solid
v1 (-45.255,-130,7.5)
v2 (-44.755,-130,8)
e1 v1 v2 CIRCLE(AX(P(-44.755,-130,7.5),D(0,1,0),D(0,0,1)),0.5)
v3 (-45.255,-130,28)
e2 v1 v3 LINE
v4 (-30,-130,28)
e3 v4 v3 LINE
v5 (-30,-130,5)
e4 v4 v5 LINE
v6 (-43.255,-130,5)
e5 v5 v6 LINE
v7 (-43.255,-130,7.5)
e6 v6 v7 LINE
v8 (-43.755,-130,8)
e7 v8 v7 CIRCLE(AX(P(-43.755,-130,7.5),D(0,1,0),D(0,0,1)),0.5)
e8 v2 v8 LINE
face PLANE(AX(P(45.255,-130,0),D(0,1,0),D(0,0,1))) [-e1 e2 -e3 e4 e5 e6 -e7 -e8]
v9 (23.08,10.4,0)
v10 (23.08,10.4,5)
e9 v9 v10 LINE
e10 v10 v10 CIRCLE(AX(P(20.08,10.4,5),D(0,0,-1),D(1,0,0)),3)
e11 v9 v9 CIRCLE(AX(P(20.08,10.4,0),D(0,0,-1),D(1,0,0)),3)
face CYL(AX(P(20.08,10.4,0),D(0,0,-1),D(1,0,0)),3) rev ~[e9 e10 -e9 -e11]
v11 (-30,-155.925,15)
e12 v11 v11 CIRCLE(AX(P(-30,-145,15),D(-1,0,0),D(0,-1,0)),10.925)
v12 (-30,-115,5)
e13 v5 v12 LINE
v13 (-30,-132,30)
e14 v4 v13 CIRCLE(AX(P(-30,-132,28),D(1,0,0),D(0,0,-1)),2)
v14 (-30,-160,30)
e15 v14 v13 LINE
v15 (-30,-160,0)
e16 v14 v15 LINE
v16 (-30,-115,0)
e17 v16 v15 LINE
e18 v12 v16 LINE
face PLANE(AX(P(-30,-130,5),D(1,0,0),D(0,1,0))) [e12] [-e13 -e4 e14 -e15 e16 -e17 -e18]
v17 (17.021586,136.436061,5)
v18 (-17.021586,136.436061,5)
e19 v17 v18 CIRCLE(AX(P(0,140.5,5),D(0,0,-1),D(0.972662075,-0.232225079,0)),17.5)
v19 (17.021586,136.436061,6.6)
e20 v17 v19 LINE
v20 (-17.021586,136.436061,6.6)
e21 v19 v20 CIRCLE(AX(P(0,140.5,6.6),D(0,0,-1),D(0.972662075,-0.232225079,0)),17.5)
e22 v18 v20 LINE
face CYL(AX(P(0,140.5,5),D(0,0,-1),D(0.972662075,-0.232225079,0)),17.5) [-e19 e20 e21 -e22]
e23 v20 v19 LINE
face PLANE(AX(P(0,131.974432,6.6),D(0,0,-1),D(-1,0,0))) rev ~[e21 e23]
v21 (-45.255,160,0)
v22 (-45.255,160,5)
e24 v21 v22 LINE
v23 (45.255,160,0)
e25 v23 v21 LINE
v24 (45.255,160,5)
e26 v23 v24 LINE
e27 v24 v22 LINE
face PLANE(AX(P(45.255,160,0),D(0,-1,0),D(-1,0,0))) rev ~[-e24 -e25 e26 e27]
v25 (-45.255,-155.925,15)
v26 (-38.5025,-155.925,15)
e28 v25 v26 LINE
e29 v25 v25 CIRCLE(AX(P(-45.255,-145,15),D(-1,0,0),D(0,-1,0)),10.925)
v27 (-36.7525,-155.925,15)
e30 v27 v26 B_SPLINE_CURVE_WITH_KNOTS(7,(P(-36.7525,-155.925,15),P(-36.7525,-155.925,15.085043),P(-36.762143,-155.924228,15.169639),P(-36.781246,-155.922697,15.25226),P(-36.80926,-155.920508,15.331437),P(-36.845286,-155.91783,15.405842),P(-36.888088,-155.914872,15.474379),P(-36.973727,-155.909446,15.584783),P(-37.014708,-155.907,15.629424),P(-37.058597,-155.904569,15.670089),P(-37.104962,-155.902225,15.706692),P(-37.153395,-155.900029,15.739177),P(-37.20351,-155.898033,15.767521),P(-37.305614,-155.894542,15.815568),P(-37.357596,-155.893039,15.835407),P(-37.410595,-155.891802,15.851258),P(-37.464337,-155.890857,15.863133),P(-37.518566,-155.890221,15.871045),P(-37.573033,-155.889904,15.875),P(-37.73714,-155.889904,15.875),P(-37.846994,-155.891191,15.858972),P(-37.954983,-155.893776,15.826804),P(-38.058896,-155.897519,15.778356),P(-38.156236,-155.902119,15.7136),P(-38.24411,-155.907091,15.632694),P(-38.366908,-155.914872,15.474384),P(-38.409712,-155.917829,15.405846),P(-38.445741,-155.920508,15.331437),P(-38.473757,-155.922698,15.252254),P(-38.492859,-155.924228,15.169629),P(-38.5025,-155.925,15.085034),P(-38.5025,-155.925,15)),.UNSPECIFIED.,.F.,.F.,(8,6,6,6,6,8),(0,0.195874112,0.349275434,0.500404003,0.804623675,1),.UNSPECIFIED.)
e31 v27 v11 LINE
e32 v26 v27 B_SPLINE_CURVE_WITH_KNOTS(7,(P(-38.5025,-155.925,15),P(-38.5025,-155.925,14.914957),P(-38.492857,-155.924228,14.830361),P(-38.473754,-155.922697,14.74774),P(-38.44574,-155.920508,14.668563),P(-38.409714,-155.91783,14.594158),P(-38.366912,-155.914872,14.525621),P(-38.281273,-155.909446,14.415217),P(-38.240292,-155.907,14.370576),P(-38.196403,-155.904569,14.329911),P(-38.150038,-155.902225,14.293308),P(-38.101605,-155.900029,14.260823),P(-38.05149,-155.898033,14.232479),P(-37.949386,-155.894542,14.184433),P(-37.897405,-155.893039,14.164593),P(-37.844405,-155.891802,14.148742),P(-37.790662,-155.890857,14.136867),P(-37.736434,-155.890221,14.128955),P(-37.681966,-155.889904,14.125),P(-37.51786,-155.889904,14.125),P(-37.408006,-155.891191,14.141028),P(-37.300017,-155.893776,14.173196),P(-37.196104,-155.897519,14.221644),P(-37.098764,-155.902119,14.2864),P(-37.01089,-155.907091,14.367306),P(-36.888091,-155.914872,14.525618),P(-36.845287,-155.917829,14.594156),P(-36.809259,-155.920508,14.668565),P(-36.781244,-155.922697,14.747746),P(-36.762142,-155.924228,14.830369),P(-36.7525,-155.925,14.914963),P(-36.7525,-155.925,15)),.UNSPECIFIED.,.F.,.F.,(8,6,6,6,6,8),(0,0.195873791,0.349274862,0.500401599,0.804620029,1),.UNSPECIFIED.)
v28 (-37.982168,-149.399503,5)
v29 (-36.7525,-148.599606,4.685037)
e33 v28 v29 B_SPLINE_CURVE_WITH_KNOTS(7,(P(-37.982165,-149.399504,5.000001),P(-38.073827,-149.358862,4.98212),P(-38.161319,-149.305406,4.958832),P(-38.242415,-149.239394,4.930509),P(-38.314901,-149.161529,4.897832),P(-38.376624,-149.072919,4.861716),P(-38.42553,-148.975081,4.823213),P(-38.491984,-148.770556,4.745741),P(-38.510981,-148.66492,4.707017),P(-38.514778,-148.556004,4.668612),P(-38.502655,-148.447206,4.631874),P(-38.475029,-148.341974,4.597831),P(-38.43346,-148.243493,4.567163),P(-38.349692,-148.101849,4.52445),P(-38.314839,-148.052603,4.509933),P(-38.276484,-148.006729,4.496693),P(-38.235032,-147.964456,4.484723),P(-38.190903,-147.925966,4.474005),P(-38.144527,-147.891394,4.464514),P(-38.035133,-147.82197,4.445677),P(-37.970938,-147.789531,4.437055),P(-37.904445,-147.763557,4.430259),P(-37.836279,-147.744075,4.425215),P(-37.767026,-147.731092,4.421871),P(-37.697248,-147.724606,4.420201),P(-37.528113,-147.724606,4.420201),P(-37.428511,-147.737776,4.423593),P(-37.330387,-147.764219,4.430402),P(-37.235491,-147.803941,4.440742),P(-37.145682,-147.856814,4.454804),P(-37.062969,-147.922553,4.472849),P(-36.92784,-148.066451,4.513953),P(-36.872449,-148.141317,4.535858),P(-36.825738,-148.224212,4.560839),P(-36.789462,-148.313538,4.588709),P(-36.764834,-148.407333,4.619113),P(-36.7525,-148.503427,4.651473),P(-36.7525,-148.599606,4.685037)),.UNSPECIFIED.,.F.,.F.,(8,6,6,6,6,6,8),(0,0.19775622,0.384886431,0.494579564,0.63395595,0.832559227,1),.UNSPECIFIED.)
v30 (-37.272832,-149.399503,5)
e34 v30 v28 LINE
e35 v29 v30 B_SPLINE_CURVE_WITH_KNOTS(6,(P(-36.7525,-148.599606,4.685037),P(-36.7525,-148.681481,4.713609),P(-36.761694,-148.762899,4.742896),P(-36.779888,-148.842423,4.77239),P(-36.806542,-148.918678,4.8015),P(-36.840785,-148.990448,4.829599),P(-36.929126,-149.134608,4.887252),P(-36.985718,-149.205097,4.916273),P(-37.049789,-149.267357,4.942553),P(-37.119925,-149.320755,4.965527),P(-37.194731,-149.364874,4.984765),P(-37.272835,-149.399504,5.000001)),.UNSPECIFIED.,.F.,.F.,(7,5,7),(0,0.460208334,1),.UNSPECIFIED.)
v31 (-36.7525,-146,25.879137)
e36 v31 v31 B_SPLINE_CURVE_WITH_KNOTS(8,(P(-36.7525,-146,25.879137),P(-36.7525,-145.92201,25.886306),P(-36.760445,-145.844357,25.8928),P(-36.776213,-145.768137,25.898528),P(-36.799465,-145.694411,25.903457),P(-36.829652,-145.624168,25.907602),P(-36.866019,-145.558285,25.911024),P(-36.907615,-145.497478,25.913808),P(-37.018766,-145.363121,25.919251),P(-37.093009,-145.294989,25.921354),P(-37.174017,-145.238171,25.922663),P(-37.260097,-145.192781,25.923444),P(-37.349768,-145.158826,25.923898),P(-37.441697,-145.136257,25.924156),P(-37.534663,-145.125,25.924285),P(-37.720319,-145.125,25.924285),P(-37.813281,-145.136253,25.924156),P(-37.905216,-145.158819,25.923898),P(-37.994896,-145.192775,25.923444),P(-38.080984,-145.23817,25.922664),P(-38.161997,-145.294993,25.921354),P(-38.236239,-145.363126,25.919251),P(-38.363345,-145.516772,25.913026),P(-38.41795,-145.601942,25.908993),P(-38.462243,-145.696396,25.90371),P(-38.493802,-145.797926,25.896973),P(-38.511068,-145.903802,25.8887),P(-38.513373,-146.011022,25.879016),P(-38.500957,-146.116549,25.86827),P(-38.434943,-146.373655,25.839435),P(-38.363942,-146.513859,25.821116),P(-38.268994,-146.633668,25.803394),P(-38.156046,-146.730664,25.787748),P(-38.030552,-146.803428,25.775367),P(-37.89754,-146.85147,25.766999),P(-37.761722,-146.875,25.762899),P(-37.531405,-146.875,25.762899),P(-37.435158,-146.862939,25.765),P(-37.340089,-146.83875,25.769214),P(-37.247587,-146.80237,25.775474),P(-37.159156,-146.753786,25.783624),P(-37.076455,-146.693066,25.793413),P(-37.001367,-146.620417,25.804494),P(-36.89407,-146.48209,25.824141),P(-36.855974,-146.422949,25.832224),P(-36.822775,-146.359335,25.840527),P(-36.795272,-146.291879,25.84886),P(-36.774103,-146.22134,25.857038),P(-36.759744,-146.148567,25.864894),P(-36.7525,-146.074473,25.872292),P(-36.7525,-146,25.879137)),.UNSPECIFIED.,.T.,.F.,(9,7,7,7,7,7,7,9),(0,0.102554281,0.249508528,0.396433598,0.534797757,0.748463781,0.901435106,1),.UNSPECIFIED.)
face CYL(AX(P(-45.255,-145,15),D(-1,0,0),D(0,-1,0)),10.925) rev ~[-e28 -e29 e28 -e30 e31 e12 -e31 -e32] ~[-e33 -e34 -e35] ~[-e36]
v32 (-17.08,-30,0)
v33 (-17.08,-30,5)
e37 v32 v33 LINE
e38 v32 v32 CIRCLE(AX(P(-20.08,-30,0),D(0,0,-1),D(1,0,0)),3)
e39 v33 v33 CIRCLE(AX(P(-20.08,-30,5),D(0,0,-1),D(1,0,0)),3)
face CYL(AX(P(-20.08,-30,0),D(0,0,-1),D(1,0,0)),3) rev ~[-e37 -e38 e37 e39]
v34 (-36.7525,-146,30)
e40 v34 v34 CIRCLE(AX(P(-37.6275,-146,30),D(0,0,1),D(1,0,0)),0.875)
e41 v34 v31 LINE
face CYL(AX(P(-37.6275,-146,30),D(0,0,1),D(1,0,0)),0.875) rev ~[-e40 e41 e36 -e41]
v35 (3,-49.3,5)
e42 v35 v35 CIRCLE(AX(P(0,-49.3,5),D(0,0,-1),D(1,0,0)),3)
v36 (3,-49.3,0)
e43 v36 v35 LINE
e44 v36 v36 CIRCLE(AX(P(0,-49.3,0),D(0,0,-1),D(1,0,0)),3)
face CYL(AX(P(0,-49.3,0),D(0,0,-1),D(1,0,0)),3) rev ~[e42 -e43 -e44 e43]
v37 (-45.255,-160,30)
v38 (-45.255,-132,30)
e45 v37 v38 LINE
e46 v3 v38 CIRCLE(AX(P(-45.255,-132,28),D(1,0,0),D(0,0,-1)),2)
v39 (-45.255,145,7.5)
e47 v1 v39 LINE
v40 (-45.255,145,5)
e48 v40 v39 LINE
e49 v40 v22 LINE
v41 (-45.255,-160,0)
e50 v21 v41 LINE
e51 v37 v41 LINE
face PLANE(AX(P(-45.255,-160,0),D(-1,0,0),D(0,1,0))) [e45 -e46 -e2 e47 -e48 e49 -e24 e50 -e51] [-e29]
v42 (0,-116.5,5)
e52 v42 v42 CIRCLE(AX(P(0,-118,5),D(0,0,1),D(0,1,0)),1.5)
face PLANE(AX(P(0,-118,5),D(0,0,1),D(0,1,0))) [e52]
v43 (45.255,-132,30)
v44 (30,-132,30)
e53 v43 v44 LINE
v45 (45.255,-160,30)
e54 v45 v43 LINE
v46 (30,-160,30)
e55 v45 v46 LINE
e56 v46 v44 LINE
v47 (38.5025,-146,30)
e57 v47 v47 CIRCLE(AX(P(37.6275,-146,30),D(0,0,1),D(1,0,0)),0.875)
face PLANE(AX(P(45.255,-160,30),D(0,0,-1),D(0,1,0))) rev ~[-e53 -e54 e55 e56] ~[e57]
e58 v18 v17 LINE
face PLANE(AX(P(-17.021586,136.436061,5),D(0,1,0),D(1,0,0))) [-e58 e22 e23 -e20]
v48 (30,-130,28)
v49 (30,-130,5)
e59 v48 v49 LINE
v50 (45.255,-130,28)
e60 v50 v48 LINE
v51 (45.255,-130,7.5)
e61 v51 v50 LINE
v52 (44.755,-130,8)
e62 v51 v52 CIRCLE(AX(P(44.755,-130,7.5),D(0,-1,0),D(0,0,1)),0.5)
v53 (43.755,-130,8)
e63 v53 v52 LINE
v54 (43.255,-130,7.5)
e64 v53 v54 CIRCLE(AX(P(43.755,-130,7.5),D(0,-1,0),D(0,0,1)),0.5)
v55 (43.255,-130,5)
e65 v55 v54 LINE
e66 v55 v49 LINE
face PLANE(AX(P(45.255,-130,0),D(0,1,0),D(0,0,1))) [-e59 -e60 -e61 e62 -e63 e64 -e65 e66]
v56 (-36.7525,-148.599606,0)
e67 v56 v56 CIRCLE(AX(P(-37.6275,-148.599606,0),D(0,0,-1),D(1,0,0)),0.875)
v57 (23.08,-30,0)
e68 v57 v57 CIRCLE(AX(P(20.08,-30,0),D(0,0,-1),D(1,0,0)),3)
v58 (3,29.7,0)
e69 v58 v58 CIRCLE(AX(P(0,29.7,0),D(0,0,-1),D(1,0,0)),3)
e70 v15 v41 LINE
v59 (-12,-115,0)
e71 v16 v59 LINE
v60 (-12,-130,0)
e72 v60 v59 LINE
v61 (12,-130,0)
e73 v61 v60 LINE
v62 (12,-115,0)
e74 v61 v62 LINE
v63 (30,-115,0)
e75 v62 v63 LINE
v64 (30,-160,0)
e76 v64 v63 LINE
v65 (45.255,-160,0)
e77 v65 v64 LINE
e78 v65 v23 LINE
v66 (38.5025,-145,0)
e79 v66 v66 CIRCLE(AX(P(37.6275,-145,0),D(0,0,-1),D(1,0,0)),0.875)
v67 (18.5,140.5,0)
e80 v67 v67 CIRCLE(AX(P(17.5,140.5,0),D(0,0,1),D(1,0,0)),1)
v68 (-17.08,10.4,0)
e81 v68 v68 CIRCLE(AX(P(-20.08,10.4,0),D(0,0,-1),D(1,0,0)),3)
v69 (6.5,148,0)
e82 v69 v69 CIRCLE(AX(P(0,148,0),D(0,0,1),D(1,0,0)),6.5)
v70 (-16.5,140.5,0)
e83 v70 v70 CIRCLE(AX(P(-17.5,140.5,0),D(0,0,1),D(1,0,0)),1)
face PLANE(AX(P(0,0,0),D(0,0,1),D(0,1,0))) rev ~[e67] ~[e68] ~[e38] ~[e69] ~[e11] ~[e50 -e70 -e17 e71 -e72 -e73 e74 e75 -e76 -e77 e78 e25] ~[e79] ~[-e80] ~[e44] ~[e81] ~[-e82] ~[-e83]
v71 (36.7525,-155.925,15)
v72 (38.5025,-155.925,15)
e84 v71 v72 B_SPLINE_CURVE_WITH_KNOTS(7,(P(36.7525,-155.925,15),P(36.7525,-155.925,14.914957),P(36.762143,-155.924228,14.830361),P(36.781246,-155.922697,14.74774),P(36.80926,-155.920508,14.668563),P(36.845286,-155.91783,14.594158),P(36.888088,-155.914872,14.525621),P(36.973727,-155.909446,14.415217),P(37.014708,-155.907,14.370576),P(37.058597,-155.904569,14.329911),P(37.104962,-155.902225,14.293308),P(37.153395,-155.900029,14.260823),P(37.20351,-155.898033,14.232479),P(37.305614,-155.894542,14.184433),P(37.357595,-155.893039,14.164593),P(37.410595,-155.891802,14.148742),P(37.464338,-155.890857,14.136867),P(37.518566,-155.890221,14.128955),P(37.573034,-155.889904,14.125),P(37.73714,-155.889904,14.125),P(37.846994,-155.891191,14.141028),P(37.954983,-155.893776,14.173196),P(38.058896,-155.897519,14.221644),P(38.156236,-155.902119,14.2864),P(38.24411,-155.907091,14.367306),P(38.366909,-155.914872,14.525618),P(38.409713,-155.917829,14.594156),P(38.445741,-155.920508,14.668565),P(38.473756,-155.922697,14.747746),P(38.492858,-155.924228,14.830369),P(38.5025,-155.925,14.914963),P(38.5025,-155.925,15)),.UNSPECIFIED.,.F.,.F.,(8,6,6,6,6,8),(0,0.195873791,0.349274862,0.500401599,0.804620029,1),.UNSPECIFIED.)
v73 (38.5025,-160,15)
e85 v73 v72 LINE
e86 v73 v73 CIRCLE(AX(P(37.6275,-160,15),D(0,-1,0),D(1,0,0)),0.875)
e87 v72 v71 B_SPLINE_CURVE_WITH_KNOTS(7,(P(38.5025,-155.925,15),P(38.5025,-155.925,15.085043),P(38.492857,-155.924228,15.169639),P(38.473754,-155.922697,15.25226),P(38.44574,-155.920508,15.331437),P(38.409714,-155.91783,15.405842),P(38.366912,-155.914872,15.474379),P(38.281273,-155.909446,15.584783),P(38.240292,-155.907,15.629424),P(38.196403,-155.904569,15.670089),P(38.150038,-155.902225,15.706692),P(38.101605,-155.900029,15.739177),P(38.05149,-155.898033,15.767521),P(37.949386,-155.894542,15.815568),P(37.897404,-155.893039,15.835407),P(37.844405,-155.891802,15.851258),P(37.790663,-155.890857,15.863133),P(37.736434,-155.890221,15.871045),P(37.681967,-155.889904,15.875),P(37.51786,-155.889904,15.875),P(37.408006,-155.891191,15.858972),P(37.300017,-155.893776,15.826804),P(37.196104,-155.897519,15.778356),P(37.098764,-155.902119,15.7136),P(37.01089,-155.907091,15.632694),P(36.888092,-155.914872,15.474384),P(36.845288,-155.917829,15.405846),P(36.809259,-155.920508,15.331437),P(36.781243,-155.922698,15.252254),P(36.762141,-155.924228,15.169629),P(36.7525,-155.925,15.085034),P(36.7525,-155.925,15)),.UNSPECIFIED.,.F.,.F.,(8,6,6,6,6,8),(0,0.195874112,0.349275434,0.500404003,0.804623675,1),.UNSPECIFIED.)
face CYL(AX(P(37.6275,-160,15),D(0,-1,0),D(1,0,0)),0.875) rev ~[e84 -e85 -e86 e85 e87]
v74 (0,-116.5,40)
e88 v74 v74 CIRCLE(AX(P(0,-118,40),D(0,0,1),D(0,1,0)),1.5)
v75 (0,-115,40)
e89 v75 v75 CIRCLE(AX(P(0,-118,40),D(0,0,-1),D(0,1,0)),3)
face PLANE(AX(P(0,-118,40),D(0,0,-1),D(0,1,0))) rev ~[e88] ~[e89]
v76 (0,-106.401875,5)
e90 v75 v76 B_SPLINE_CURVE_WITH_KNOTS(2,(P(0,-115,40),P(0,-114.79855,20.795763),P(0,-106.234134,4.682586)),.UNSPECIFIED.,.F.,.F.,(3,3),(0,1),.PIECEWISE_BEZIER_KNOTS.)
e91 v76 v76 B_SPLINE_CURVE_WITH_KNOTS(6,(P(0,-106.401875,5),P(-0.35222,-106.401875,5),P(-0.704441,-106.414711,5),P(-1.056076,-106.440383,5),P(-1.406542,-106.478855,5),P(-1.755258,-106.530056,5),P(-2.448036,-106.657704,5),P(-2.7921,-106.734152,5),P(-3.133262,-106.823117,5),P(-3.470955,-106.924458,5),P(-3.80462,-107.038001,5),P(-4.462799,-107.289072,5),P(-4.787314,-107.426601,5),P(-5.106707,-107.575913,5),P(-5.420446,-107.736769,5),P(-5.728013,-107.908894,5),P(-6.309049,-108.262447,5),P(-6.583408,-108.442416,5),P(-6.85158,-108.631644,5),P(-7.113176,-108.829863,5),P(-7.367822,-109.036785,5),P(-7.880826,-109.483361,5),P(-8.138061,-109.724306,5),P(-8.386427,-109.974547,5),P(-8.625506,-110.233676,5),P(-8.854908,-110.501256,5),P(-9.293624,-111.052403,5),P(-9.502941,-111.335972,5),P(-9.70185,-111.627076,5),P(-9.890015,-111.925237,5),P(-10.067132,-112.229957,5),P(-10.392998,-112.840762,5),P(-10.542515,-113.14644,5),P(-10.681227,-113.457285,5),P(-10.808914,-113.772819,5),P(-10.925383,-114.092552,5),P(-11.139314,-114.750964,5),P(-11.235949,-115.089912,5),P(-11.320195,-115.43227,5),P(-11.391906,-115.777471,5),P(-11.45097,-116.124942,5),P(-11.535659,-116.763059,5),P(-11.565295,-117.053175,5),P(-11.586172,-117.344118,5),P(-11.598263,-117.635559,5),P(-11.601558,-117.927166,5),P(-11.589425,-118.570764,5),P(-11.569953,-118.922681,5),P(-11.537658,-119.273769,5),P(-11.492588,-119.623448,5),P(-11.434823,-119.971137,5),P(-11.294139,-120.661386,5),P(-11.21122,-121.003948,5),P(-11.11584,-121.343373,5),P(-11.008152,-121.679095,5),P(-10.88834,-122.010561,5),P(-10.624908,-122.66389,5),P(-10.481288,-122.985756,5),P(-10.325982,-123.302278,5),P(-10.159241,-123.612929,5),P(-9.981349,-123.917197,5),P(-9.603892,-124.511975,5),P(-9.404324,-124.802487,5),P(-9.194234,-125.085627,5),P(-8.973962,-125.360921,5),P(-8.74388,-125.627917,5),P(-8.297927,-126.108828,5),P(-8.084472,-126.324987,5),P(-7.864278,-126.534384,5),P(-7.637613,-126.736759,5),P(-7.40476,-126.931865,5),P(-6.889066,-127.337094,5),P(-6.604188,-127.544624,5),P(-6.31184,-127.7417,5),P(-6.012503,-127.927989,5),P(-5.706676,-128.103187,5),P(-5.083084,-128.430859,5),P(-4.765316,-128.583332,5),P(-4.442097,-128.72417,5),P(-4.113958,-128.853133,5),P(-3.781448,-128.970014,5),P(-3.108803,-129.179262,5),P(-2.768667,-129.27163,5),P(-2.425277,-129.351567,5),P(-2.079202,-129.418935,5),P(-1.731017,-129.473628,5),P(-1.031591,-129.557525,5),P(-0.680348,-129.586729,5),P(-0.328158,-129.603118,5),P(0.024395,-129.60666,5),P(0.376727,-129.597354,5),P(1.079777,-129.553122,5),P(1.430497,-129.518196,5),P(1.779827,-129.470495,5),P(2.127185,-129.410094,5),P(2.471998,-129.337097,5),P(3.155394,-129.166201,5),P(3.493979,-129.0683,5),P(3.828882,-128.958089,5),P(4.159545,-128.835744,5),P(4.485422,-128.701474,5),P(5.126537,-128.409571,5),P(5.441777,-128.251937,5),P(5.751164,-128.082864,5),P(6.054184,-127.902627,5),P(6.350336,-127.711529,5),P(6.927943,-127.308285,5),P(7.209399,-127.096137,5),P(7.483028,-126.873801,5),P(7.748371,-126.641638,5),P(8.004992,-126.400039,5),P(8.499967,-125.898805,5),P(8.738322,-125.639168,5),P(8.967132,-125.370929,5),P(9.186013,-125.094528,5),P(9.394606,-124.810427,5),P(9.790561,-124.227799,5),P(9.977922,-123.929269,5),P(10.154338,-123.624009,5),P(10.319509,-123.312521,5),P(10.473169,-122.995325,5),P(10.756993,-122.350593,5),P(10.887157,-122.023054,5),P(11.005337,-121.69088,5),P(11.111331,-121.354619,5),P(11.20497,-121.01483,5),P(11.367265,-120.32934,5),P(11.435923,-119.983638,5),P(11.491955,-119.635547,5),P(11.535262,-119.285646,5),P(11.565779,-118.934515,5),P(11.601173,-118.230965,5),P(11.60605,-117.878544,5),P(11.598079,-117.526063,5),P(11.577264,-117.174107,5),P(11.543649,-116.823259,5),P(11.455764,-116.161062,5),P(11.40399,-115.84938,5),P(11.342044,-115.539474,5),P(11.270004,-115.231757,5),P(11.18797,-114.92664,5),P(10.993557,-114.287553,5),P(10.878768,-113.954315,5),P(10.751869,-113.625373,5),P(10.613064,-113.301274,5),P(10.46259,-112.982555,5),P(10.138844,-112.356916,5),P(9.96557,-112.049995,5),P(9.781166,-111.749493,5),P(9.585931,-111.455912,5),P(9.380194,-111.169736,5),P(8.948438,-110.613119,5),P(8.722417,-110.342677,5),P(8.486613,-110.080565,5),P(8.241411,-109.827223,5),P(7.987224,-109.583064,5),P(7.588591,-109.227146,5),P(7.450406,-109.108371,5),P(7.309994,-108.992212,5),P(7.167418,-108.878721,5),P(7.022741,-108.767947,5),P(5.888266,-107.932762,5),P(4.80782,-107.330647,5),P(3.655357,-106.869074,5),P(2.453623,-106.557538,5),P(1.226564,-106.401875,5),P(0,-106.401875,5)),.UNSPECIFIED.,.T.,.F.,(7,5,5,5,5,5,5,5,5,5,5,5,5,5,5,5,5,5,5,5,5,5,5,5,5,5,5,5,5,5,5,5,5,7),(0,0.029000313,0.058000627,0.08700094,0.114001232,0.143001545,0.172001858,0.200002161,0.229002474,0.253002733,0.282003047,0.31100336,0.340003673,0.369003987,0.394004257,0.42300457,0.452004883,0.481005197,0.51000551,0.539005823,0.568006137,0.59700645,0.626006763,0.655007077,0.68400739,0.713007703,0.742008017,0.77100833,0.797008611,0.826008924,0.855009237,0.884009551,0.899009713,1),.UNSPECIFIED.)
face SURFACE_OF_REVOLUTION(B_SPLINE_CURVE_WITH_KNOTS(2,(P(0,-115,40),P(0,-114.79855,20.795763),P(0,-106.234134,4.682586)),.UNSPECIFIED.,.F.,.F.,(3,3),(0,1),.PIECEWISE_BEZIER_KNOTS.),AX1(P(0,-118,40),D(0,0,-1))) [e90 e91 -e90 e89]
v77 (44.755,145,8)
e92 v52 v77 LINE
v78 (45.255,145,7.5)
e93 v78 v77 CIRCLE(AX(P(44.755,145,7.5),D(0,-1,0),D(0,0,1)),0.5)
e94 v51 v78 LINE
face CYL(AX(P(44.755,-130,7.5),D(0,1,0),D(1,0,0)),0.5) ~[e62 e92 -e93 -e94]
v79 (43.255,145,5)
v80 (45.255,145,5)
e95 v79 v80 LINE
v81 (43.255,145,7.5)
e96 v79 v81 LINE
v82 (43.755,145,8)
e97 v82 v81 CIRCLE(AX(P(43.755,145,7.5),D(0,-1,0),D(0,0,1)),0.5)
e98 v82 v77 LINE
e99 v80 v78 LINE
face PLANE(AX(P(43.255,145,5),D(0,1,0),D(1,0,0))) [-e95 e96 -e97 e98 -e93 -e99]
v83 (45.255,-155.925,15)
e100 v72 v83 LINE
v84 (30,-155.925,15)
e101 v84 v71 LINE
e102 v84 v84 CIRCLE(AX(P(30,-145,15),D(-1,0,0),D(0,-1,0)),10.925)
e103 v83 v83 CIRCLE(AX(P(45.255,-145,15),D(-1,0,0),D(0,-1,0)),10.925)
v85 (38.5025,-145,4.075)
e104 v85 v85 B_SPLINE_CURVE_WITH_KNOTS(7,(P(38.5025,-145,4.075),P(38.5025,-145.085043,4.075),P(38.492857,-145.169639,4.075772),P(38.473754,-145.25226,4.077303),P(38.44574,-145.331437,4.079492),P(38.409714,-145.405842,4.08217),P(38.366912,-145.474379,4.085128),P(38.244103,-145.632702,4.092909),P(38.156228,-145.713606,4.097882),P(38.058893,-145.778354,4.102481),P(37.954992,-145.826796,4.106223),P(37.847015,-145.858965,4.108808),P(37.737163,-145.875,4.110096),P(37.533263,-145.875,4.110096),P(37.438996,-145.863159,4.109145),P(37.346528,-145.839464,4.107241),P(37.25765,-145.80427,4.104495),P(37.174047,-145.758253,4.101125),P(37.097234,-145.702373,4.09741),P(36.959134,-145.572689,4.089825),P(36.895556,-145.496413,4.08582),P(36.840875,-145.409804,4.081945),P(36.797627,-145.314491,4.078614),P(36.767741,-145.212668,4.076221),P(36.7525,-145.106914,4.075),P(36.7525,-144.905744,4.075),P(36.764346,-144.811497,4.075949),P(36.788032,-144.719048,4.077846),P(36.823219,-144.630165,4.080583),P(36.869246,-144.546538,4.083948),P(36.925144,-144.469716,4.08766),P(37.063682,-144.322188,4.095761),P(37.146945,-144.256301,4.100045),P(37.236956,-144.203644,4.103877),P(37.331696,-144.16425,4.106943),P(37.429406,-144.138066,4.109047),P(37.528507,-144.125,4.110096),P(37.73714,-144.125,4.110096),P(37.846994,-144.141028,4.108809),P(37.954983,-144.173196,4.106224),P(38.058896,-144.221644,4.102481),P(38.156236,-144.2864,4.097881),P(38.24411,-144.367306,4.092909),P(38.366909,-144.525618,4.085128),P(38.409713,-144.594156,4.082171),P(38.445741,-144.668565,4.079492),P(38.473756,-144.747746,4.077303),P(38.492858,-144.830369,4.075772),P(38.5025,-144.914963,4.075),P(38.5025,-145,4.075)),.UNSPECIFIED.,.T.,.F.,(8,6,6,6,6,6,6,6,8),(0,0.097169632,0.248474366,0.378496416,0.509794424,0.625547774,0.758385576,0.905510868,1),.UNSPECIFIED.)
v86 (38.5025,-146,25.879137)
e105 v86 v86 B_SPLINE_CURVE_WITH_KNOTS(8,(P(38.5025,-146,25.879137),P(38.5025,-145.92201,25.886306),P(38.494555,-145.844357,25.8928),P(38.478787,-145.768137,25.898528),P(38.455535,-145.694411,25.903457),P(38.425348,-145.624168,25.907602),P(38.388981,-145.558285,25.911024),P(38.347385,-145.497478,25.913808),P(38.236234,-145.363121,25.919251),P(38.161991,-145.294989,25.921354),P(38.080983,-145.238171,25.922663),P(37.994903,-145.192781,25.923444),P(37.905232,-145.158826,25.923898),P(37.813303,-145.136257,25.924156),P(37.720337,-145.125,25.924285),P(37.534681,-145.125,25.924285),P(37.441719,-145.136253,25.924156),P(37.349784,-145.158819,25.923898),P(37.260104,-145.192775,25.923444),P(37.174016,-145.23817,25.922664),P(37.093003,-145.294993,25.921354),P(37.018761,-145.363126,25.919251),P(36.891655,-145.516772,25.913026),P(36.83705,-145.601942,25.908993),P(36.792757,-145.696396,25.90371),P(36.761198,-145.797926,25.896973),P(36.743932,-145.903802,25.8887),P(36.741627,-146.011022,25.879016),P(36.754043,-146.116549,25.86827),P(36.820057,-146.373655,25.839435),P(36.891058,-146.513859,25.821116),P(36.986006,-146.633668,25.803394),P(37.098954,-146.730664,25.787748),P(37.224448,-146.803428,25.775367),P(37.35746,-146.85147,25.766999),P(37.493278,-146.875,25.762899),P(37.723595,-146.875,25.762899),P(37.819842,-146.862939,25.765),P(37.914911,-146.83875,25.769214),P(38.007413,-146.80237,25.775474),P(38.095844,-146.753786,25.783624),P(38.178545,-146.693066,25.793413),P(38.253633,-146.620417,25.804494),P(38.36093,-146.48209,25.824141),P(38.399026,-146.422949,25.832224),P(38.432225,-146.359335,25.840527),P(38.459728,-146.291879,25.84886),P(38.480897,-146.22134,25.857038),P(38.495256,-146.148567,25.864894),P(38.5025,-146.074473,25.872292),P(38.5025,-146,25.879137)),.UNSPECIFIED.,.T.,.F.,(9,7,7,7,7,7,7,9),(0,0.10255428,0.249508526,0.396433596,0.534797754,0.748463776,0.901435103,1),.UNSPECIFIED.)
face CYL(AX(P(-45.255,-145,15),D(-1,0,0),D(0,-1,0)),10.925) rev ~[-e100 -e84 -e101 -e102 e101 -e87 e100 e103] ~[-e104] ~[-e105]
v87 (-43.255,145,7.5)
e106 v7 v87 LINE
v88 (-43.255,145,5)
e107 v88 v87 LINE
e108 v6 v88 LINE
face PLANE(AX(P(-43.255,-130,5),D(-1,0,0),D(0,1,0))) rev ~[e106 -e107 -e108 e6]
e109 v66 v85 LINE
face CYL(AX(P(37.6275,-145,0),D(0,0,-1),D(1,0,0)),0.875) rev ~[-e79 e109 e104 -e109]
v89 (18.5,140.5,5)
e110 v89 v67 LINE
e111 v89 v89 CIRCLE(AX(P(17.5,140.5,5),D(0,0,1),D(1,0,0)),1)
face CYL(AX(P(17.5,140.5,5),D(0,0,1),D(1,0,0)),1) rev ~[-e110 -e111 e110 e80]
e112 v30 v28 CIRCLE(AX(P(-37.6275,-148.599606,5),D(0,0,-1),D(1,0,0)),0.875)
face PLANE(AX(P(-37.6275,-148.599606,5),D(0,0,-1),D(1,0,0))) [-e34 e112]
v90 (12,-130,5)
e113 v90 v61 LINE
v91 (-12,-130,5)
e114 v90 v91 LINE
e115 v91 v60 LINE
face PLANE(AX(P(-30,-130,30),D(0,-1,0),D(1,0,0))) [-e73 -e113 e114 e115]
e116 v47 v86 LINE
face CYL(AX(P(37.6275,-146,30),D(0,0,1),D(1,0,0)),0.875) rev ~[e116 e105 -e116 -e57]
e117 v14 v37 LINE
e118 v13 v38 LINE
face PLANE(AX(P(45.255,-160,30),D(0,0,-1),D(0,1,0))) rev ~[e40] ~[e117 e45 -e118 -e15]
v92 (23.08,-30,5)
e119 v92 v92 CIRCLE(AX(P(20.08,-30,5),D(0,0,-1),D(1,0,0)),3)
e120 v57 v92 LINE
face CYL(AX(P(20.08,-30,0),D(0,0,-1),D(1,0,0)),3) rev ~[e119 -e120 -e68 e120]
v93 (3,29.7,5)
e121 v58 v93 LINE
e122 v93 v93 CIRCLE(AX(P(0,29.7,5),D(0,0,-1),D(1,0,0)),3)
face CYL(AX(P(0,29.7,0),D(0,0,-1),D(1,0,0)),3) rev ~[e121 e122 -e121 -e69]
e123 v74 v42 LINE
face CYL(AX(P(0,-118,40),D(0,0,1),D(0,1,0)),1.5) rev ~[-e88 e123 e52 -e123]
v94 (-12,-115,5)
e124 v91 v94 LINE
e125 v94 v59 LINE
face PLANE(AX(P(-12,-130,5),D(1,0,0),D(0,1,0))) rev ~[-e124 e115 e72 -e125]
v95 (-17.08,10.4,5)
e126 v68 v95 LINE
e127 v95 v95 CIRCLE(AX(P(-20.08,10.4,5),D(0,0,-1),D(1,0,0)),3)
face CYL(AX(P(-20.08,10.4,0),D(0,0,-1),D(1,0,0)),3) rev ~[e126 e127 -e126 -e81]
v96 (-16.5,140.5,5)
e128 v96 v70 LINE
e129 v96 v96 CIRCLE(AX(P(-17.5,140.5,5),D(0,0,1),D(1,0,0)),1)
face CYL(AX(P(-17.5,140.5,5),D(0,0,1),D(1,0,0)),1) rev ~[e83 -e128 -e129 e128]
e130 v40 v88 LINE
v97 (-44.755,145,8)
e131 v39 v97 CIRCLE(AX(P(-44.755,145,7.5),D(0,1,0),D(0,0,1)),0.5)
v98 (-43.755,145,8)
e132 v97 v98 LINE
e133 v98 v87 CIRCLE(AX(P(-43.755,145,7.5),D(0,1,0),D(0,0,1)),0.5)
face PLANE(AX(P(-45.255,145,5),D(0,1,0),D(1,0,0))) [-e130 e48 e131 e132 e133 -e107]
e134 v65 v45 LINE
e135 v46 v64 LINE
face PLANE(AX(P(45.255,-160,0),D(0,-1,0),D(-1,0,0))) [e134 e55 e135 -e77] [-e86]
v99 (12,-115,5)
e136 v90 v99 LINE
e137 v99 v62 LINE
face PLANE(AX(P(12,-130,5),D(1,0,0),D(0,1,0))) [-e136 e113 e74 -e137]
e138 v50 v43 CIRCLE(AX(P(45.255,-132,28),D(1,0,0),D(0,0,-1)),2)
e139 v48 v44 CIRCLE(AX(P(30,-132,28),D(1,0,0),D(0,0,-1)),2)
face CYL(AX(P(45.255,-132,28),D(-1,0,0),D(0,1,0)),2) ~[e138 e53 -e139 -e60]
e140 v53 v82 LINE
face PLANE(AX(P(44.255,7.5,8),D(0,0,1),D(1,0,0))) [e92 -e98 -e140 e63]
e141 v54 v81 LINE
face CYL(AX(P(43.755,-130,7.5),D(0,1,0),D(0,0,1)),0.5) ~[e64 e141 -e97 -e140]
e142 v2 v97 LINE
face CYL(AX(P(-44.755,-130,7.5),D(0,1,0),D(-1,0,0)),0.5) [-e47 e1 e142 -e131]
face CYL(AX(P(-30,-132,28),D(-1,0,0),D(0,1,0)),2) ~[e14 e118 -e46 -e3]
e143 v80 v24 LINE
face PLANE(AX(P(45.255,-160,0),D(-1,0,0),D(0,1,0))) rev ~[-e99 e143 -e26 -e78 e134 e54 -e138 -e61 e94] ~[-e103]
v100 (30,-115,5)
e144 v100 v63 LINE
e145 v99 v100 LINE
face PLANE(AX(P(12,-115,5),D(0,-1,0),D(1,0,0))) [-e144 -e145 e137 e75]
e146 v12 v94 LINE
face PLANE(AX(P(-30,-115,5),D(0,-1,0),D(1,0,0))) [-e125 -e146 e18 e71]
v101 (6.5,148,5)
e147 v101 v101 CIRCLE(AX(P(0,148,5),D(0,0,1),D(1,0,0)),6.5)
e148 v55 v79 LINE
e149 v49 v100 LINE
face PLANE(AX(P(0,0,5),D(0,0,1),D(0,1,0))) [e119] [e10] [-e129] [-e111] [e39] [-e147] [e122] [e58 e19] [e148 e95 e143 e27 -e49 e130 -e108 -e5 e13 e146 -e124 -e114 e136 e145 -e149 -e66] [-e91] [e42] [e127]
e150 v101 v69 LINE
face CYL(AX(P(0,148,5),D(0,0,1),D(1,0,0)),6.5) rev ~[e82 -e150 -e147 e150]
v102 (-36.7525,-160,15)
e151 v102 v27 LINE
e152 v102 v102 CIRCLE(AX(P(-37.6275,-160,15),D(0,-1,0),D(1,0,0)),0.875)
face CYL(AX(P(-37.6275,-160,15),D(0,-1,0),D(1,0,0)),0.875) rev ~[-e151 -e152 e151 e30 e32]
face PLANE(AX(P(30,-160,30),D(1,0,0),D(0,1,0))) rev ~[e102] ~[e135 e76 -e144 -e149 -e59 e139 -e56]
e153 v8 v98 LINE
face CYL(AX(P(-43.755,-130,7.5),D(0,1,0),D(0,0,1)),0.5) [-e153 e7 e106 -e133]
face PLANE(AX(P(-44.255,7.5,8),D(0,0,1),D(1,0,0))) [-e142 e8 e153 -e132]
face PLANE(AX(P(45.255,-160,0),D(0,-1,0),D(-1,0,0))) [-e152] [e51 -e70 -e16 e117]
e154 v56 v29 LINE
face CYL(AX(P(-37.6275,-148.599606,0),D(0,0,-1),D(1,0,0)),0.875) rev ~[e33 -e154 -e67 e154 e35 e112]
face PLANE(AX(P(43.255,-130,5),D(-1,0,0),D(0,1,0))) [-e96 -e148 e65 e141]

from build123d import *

# Parameters (mm, degrees)
SKETCH1_W                    = 320
SKETCH1_H                    = 90.51
CHASSIS_BASE_DEPTH           = 5
SKETCH3_W                    = 2
SKETCH3_H                    = 275
LATERAL_GUARD_DEPTH          = 3
DRIVE_ATTACHMENT_POINT_REACH = 10
SKETCH4_R                    = 3
CUT_EXTRUDE2_REACH           = 7
SKETCH5_R                    = 6.5
SKETCH5_R_2                  = 1
SKETCH6_W                    = 30
SKETCH6_H                    = 30
BOSS_EXTRUDE1_DEPTH          = 90.51
CUT_EXTRUDE3_REACH           = 32
SKETCH7_W                    = 60
SKETCH7_H                    = 30
FILLET3_R                    = 0.5
FILLET4_R                    = 2
SKETCH9_R                    = 0.875
CUT_EXTRUDE5_DEPTH           = 5
SKETCH10_R                   = 0.875
CUT_EXTRUDE6_DEPTH           = 5
SKETCH11_R                   = 0.875
CUT_EXTRUDE7_DEPTH           = 5
SKETCH12_R                   = 0.875
CUT_EXTRUDE8_DEPTH           = 5
SKETCH13_R                   = 0.875
CUT_EXTRUDE9_DEPTH           = 5
SKETCH14_R                   = 0.875
CUT_EXTRUDE10_DEPTH          = 5
BOSS_EXTRUDE2_DEPTH          = 1.6
SKETCH17_R                   = 10.925
CUT_EXTRUDE12_DEPTH          = 91.51
SKETCH18_W                   = 18
SKETCH18_H                   = 15
CUT_EXTRUDE13_DEPTH          = 6.0000001
SKETCH23_R                   = 1.5
CUT_EXTRUDE18_DEPTH          = 35


with BuildPart() as part:
    # Sketch1 → Chassis Base (new body)
    with BuildSketch(Plane(origin=(0, 0, 0), x_dir=(0, 1, 0), z_dir=(0, 0, 1))):
        Rectangle(SKETCH1_W, SKETCH1_H)
    extrude(amount=CHASSIS_BASE_DEPTH)

    # Sketch3 → Lateral Guard (add)
    with BuildSketch(Plane.XY.offset(5)):
        with Locations((-44.255, 7.5)):
            Rectangle(SKETCH3_W, SKETCH3_H)
        with Locations((44.255, 7.5)):
            Rectangle(SKETCH3_W, SKETCH3_H)
    extrude(amount=LATERAL_GUARD_DEPTH)

    # Sketch4 → Drive Attachment Point (cut, up to next)
    with BuildSketch(Plane(origin=(0, 0, 0), x_dir=(1, 0, 0), z_dir=(0, 0, -1)), mode=Mode.PRIVATE) as drive_attachment_point_sk1:
        with Locations((0, -29.7)):
            Circle(SKETCH4_R)
    drive_attachment_point_tool1 = extrude(drive_attachment_point_sk1.sketch, amount=-DRIVE_ATTACHMENT_POINT_REACH, mode=Mode.PRIVATE) & part.part
    add(drive_attachment_point_tool1.solids().sort_by_distance((0, 29.7, 0))[0], mode=Mode.SUBTRACT)
    # Sketch4 → Drive Attachment Point (cut, up to next)
    with BuildSketch(Plane(origin=(0, 0, 0), x_dir=(1, 0, 0), z_dir=(0, 0, -1)), mode=Mode.PRIVATE) as drive_attachment_point_sk2:
        with Locations((-20.08, 30)):
            Circle(SKETCH4_R)
    drive_attachment_point_tool2 = extrude(drive_attachment_point_sk2.sketch, amount=-DRIVE_ATTACHMENT_POINT_REACH, mode=Mode.PRIVATE) & part.part
    add(drive_attachment_point_tool2.solids().sort_by_distance((-20.08, -30, 0))[0], mode=Mode.SUBTRACT)
    # Sketch4 → Drive Attachment Point (cut, up to next)
    with BuildSketch(Plane(origin=(0, 0, 0), x_dir=(1, 0, 0), z_dir=(0, 0, -1)), mode=Mode.PRIVATE) as drive_attachment_point_sk3:
        with Locations((20.08, 30)):
            Circle(SKETCH4_R)
    drive_attachment_point_tool3 = extrude(drive_attachment_point_sk3.sketch, amount=-DRIVE_ATTACHMENT_POINT_REACH, mode=Mode.PRIVATE) & part.part
    add(drive_attachment_point_tool3.solids().sort_by_distance((20.08, -30, 0))[0], mode=Mode.SUBTRACT)
    # Sketch4 → Drive Attachment Point (cut, up to next)
    with BuildSketch(Plane(origin=(0, 0, 0), x_dir=(1, 0, 0), z_dir=(0, 0, -1)), mode=Mode.PRIVATE) as drive_attachment_point_sk4:
        with Locations((0, 49.3)):
            Circle(SKETCH4_R)
    drive_attachment_point_tool4 = extrude(drive_attachment_point_sk4.sketch, amount=-DRIVE_ATTACHMENT_POINT_REACH, mode=Mode.PRIVATE) & part.part
    add(drive_attachment_point_tool4.solids().sort_by_distance((0, -49.3, 0))[0], mode=Mode.SUBTRACT)
    # Sketch4 → Drive Attachment Point (cut, up to next)
    with BuildSketch(Plane(origin=(0, 0, 0), x_dir=(1, 0, 0), z_dir=(0, 0, -1)), mode=Mode.PRIVATE) as drive_attachment_point_sk5:
        with Locations((-20.08, -10.4)):
            Circle(SKETCH4_R)
    drive_attachment_point_tool5 = extrude(drive_attachment_point_sk5.sketch, amount=-DRIVE_ATTACHMENT_POINT_REACH, mode=Mode.PRIVATE) & part.part
    add(drive_attachment_point_tool5.solids().sort_by_distance((-20.08, 10.4, 0))[0], mode=Mode.SUBTRACT)
    # Sketch4 → Drive Attachment Point (cut, up to next)
    with BuildSketch(Plane(origin=(0, 0, 0), x_dir=(1, 0, 0), z_dir=(0, 0, -1)), mode=Mode.PRIVATE) as drive_attachment_point_sk6:
        with Locations((20.08, -10.4)):
            Circle(SKETCH4_R)
    drive_attachment_point_tool6 = extrude(drive_attachment_point_sk6.sketch, amount=-DRIVE_ATTACHMENT_POINT_REACH, mode=Mode.PRIVATE) & part.part
    add(drive_attachment_point_tool6.solids().sort_by_distance((20.08, 10.4, 0))[0], mode=Mode.SUBTRACT)

    # Sketch5 → Cut-Extrude2 (cut, up to next)
    with BuildSketch(Plane.XY.offset(5), mode=Mode.PRIVATE) as cut_extrude2_sk1:
        with Locations((0, 148)):
            Circle(SKETCH5_R)
    cut_extrude2_tool1 = extrude(cut_extrude2_sk1.sketch, amount=-CUT_EXTRUDE2_REACH, mode=Mode.PRIVATE) & part.part
    add(cut_extrude2_tool1.solids().sort_by_distance((0, 148, 5))[0], mode=Mode.SUBTRACT)
    # Sketch5 → Cut-Extrude2 (cut, up to next)
    with BuildSketch(Plane.XY.offset(5), mode=Mode.PRIVATE) as cut_extrude2_sk2:
        with Locations((-17.5, 140.5)):
            Circle(SKETCH5_R_2)
    cut_extrude2_tool2 = extrude(cut_extrude2_sk2.sketch, amount=-CUT_EXTRUDE2_REACH, mode=Mode.PRIVATE) & part.part
    add(cut_extrude2_tool2.solids().sort_by_distance((-17.5, 140.5, 5))[0], mode=Mode.SUBTRACT)
    # Sketch5 → Cut-Extrude2 (cut, up to next)
    with BuildSketch(Plane.XY.offset(5), mode=Mode.PRIVATE) as cut_extrude2_sk3:
        with Locations((17.5, 140.5)):
            Circle(SKETCH5_R_2)
    cut_extrude2_tool3 = extrude(cut_extrude2_sk3.sketch, amount=-CUT_EXTRUDE2_REACH, mode=Mode.PRIVATE) & part.part
    add(cut_extrude2_tool3.solids().sort_by_distance((17.5, 140.5, 5))[0], mode=Mode.SUBTRACT)

    # Sketch6 → Boss-Extrude1 (add)
    with BuildSketch(Plane.YZ.offset(45.255)):
        with Locations((-145, 15)):
            Rectangle(SKETCH6_W, SKETCH6_H)
    extrude(amount=-BOSS_EXTRUDE1_DEPTH)

    # Sketch7 → Cut-Extrude3 (cut, up to next)
    with BuildSketch(Plane.XY.offset(30), mode=Mode.PRIVATE) as cut_extrude3_sk1:
        with Locations((0, -145)):
            Rectangle(SKETCH7_W, SKETCH7_H)
    cut_extrude3_tool1 = extrude(cut_extrude3_sk1.sketch, amount=-CUT_EXTRUDE3_REACH, mode=Mode.PRIVATE) & part.part
    add(cut_extrude3_tool1.solids().sort_by_distance((0, -145, 30))[0], mode=Mode.SUBTRACT)

    # Fillet3
    fillet3_edges = [part.edges().sort_by_distance(p)[0] for p in [
        (-45.255, 7.5, 8),
        (-43.255, 7.5, 8),
        (45.255, 7.5, 8),
        (43.255, 7.5, 8),
    ]]
    fillet(fillet3_edges, radius=FILLET3_R)

    # Fillet4
    fillet4_edges = [part.edges().sort_by_distance(p)[0] for p in [
        (37.6275, -130, 30),
        (-37.6275, -130, 30),
    ]]
    fillet(fillet4_edges, radius=FILLET4_R)

    # Sketch9 → Cut-Extrude5 (cut)
    with BuildSketch(Plane.XY.offset(30)):
        with Locations((-37.6275, -146)):
            Circle(SKETCH9_R)
    extrude(amount=-CUT_EXTRUDE5_DEPTH, mode=Mode.SUBTRACT)

    # Sketch10 → Cut-Extrude6 (cut)
    with BuildSketch(Plane.XZ.offset(160)):
        with Locations((-37.6275, 15)):
            Circle(SKETCH10_R)
    extrude(amount=-CUT_EXTRUDE6_DEPTH, mode=Mode.SUBTRACT)

    # Sketch11 → Cut-Extrude7 (cut)
    with BuildSketch(Plane(origin=(0, 0, 0), x_dir=(1, 0, 0), z_dir=(0, 0, -1))):
        with Locations((-37.6275, 148.599605515)):
            Circle(SKETCH11_R)
    extrude(amount=-CUT_EXTRUDE7_DEPTH, mode=Mode.SUBTRACT)

    # Sketch12 → Cut-Extrude8 (cut)
    with BuildSketch(Plane(origin=(0, 0, 0), x_dir=(1, 0, 0), z_dir=(0, 0, -1))):
        with Locations((37.6275, 145)):
            Circle(SKETCH12_R)
    extrude(amount=-CUT_EXTRUDE8_DEPTH, mode=Mode.SUBTRACT)

    # Sketch13 → Cut-Extrude9 (cut)
    with BuildSketch(Plane.XZ.offset(160)):
        with Locations((37.6275, 15)):
            Circle(SKETCH13_R)
    extrude(amount=-CUT_EXTRUDE9_DEPTH, mode=Mode.SUBTRACT)

    # Sketch14 → Cut-Extrude10 (cut)
    with BuildSketch(Plane.XY.offset(30)):
        with Locations((37.6275, -146)):
            Circle(SKETCH14_R)
    extrude(amount=-CUT_EXTRUDE10_DEPTH, mode=Mode.SUBTRACT)

    # Sketch15 → Boss-Extrude2 (add)
    with BuildSketch(Plane.XY.offset(5)):
        with BuildLine():
            Line((-17.021586315, 136.436061109), (17.021586315, 136.436061109))
            ThreePointArc((17.021586315, 136.436061109), (0, 123), (-17.021586315, 136.436061109))
        make_face()
    extrude(amount=BOSS_EXTRUDE2_DEPTH)

    # Sketch17 → Cut-Extrude12 (cut, through all)
    with BuildSketch(Plane(origin=(-45.255, 0, 0), x_dir=(0, -1, 0), z_dir=(-1, 0, 0))):
        with Locations((145, 15)):
            Circle(SKETCH17_R)
    extrude(amount=-CUT_EXTRUDE12_DEPTH, mode=Mode.SUBTRACT)

    # Sketch18 → Cut-Extrude13 (cut, through all)
    with BuildSketch(Plane.XY.offset(5)):
        with Locations((21, -122.5)):
            Rectangle(SKETCH18_W, SKETCH18_H)
        with Locations((-21, -122.5)):
            Rectangle(SKETCH18_W, SKETCH18_H)
    extrude(amount=-CUT_EXTRUDE13_DEPTH, mode=Mode.SUBTRACT)

    # Sketch21 → Revolve1 (revolve)
    with BuildSketch(Plane.YZ):
        with BuildLine():
            Line((-118, 40), (-118, 5))
            Line((-118, 5), (-106.234133627, 4.682586024))
            add(Edge.make_bspline(
                [(-115, 40), (-114.798550354, 20.795762888), (-106.234133627, 4.682586024)],
                knots=[0, 0, 0, 1, 1, 1], degree=2))
            Line((-115, 40), (-118, 40))
        make_face()
    revolve(axis=Axis((0, -118, 40), (0, 0, -1)))

    # Sketch23 → Cut-Extrude18 (cut)
    with BuildSketch(Plane(origin=(0, 0, 40), x_dir=(0, 1, 0), z_dir=(0, 0, 1))):
        with Locations((-118, 0)):
            Circle(SKETCH23_R)
    extrude(amount=-CUT_EXTRUDE18_DEPTH, mode=Mode.SUBTRACT)


solid = part.part
